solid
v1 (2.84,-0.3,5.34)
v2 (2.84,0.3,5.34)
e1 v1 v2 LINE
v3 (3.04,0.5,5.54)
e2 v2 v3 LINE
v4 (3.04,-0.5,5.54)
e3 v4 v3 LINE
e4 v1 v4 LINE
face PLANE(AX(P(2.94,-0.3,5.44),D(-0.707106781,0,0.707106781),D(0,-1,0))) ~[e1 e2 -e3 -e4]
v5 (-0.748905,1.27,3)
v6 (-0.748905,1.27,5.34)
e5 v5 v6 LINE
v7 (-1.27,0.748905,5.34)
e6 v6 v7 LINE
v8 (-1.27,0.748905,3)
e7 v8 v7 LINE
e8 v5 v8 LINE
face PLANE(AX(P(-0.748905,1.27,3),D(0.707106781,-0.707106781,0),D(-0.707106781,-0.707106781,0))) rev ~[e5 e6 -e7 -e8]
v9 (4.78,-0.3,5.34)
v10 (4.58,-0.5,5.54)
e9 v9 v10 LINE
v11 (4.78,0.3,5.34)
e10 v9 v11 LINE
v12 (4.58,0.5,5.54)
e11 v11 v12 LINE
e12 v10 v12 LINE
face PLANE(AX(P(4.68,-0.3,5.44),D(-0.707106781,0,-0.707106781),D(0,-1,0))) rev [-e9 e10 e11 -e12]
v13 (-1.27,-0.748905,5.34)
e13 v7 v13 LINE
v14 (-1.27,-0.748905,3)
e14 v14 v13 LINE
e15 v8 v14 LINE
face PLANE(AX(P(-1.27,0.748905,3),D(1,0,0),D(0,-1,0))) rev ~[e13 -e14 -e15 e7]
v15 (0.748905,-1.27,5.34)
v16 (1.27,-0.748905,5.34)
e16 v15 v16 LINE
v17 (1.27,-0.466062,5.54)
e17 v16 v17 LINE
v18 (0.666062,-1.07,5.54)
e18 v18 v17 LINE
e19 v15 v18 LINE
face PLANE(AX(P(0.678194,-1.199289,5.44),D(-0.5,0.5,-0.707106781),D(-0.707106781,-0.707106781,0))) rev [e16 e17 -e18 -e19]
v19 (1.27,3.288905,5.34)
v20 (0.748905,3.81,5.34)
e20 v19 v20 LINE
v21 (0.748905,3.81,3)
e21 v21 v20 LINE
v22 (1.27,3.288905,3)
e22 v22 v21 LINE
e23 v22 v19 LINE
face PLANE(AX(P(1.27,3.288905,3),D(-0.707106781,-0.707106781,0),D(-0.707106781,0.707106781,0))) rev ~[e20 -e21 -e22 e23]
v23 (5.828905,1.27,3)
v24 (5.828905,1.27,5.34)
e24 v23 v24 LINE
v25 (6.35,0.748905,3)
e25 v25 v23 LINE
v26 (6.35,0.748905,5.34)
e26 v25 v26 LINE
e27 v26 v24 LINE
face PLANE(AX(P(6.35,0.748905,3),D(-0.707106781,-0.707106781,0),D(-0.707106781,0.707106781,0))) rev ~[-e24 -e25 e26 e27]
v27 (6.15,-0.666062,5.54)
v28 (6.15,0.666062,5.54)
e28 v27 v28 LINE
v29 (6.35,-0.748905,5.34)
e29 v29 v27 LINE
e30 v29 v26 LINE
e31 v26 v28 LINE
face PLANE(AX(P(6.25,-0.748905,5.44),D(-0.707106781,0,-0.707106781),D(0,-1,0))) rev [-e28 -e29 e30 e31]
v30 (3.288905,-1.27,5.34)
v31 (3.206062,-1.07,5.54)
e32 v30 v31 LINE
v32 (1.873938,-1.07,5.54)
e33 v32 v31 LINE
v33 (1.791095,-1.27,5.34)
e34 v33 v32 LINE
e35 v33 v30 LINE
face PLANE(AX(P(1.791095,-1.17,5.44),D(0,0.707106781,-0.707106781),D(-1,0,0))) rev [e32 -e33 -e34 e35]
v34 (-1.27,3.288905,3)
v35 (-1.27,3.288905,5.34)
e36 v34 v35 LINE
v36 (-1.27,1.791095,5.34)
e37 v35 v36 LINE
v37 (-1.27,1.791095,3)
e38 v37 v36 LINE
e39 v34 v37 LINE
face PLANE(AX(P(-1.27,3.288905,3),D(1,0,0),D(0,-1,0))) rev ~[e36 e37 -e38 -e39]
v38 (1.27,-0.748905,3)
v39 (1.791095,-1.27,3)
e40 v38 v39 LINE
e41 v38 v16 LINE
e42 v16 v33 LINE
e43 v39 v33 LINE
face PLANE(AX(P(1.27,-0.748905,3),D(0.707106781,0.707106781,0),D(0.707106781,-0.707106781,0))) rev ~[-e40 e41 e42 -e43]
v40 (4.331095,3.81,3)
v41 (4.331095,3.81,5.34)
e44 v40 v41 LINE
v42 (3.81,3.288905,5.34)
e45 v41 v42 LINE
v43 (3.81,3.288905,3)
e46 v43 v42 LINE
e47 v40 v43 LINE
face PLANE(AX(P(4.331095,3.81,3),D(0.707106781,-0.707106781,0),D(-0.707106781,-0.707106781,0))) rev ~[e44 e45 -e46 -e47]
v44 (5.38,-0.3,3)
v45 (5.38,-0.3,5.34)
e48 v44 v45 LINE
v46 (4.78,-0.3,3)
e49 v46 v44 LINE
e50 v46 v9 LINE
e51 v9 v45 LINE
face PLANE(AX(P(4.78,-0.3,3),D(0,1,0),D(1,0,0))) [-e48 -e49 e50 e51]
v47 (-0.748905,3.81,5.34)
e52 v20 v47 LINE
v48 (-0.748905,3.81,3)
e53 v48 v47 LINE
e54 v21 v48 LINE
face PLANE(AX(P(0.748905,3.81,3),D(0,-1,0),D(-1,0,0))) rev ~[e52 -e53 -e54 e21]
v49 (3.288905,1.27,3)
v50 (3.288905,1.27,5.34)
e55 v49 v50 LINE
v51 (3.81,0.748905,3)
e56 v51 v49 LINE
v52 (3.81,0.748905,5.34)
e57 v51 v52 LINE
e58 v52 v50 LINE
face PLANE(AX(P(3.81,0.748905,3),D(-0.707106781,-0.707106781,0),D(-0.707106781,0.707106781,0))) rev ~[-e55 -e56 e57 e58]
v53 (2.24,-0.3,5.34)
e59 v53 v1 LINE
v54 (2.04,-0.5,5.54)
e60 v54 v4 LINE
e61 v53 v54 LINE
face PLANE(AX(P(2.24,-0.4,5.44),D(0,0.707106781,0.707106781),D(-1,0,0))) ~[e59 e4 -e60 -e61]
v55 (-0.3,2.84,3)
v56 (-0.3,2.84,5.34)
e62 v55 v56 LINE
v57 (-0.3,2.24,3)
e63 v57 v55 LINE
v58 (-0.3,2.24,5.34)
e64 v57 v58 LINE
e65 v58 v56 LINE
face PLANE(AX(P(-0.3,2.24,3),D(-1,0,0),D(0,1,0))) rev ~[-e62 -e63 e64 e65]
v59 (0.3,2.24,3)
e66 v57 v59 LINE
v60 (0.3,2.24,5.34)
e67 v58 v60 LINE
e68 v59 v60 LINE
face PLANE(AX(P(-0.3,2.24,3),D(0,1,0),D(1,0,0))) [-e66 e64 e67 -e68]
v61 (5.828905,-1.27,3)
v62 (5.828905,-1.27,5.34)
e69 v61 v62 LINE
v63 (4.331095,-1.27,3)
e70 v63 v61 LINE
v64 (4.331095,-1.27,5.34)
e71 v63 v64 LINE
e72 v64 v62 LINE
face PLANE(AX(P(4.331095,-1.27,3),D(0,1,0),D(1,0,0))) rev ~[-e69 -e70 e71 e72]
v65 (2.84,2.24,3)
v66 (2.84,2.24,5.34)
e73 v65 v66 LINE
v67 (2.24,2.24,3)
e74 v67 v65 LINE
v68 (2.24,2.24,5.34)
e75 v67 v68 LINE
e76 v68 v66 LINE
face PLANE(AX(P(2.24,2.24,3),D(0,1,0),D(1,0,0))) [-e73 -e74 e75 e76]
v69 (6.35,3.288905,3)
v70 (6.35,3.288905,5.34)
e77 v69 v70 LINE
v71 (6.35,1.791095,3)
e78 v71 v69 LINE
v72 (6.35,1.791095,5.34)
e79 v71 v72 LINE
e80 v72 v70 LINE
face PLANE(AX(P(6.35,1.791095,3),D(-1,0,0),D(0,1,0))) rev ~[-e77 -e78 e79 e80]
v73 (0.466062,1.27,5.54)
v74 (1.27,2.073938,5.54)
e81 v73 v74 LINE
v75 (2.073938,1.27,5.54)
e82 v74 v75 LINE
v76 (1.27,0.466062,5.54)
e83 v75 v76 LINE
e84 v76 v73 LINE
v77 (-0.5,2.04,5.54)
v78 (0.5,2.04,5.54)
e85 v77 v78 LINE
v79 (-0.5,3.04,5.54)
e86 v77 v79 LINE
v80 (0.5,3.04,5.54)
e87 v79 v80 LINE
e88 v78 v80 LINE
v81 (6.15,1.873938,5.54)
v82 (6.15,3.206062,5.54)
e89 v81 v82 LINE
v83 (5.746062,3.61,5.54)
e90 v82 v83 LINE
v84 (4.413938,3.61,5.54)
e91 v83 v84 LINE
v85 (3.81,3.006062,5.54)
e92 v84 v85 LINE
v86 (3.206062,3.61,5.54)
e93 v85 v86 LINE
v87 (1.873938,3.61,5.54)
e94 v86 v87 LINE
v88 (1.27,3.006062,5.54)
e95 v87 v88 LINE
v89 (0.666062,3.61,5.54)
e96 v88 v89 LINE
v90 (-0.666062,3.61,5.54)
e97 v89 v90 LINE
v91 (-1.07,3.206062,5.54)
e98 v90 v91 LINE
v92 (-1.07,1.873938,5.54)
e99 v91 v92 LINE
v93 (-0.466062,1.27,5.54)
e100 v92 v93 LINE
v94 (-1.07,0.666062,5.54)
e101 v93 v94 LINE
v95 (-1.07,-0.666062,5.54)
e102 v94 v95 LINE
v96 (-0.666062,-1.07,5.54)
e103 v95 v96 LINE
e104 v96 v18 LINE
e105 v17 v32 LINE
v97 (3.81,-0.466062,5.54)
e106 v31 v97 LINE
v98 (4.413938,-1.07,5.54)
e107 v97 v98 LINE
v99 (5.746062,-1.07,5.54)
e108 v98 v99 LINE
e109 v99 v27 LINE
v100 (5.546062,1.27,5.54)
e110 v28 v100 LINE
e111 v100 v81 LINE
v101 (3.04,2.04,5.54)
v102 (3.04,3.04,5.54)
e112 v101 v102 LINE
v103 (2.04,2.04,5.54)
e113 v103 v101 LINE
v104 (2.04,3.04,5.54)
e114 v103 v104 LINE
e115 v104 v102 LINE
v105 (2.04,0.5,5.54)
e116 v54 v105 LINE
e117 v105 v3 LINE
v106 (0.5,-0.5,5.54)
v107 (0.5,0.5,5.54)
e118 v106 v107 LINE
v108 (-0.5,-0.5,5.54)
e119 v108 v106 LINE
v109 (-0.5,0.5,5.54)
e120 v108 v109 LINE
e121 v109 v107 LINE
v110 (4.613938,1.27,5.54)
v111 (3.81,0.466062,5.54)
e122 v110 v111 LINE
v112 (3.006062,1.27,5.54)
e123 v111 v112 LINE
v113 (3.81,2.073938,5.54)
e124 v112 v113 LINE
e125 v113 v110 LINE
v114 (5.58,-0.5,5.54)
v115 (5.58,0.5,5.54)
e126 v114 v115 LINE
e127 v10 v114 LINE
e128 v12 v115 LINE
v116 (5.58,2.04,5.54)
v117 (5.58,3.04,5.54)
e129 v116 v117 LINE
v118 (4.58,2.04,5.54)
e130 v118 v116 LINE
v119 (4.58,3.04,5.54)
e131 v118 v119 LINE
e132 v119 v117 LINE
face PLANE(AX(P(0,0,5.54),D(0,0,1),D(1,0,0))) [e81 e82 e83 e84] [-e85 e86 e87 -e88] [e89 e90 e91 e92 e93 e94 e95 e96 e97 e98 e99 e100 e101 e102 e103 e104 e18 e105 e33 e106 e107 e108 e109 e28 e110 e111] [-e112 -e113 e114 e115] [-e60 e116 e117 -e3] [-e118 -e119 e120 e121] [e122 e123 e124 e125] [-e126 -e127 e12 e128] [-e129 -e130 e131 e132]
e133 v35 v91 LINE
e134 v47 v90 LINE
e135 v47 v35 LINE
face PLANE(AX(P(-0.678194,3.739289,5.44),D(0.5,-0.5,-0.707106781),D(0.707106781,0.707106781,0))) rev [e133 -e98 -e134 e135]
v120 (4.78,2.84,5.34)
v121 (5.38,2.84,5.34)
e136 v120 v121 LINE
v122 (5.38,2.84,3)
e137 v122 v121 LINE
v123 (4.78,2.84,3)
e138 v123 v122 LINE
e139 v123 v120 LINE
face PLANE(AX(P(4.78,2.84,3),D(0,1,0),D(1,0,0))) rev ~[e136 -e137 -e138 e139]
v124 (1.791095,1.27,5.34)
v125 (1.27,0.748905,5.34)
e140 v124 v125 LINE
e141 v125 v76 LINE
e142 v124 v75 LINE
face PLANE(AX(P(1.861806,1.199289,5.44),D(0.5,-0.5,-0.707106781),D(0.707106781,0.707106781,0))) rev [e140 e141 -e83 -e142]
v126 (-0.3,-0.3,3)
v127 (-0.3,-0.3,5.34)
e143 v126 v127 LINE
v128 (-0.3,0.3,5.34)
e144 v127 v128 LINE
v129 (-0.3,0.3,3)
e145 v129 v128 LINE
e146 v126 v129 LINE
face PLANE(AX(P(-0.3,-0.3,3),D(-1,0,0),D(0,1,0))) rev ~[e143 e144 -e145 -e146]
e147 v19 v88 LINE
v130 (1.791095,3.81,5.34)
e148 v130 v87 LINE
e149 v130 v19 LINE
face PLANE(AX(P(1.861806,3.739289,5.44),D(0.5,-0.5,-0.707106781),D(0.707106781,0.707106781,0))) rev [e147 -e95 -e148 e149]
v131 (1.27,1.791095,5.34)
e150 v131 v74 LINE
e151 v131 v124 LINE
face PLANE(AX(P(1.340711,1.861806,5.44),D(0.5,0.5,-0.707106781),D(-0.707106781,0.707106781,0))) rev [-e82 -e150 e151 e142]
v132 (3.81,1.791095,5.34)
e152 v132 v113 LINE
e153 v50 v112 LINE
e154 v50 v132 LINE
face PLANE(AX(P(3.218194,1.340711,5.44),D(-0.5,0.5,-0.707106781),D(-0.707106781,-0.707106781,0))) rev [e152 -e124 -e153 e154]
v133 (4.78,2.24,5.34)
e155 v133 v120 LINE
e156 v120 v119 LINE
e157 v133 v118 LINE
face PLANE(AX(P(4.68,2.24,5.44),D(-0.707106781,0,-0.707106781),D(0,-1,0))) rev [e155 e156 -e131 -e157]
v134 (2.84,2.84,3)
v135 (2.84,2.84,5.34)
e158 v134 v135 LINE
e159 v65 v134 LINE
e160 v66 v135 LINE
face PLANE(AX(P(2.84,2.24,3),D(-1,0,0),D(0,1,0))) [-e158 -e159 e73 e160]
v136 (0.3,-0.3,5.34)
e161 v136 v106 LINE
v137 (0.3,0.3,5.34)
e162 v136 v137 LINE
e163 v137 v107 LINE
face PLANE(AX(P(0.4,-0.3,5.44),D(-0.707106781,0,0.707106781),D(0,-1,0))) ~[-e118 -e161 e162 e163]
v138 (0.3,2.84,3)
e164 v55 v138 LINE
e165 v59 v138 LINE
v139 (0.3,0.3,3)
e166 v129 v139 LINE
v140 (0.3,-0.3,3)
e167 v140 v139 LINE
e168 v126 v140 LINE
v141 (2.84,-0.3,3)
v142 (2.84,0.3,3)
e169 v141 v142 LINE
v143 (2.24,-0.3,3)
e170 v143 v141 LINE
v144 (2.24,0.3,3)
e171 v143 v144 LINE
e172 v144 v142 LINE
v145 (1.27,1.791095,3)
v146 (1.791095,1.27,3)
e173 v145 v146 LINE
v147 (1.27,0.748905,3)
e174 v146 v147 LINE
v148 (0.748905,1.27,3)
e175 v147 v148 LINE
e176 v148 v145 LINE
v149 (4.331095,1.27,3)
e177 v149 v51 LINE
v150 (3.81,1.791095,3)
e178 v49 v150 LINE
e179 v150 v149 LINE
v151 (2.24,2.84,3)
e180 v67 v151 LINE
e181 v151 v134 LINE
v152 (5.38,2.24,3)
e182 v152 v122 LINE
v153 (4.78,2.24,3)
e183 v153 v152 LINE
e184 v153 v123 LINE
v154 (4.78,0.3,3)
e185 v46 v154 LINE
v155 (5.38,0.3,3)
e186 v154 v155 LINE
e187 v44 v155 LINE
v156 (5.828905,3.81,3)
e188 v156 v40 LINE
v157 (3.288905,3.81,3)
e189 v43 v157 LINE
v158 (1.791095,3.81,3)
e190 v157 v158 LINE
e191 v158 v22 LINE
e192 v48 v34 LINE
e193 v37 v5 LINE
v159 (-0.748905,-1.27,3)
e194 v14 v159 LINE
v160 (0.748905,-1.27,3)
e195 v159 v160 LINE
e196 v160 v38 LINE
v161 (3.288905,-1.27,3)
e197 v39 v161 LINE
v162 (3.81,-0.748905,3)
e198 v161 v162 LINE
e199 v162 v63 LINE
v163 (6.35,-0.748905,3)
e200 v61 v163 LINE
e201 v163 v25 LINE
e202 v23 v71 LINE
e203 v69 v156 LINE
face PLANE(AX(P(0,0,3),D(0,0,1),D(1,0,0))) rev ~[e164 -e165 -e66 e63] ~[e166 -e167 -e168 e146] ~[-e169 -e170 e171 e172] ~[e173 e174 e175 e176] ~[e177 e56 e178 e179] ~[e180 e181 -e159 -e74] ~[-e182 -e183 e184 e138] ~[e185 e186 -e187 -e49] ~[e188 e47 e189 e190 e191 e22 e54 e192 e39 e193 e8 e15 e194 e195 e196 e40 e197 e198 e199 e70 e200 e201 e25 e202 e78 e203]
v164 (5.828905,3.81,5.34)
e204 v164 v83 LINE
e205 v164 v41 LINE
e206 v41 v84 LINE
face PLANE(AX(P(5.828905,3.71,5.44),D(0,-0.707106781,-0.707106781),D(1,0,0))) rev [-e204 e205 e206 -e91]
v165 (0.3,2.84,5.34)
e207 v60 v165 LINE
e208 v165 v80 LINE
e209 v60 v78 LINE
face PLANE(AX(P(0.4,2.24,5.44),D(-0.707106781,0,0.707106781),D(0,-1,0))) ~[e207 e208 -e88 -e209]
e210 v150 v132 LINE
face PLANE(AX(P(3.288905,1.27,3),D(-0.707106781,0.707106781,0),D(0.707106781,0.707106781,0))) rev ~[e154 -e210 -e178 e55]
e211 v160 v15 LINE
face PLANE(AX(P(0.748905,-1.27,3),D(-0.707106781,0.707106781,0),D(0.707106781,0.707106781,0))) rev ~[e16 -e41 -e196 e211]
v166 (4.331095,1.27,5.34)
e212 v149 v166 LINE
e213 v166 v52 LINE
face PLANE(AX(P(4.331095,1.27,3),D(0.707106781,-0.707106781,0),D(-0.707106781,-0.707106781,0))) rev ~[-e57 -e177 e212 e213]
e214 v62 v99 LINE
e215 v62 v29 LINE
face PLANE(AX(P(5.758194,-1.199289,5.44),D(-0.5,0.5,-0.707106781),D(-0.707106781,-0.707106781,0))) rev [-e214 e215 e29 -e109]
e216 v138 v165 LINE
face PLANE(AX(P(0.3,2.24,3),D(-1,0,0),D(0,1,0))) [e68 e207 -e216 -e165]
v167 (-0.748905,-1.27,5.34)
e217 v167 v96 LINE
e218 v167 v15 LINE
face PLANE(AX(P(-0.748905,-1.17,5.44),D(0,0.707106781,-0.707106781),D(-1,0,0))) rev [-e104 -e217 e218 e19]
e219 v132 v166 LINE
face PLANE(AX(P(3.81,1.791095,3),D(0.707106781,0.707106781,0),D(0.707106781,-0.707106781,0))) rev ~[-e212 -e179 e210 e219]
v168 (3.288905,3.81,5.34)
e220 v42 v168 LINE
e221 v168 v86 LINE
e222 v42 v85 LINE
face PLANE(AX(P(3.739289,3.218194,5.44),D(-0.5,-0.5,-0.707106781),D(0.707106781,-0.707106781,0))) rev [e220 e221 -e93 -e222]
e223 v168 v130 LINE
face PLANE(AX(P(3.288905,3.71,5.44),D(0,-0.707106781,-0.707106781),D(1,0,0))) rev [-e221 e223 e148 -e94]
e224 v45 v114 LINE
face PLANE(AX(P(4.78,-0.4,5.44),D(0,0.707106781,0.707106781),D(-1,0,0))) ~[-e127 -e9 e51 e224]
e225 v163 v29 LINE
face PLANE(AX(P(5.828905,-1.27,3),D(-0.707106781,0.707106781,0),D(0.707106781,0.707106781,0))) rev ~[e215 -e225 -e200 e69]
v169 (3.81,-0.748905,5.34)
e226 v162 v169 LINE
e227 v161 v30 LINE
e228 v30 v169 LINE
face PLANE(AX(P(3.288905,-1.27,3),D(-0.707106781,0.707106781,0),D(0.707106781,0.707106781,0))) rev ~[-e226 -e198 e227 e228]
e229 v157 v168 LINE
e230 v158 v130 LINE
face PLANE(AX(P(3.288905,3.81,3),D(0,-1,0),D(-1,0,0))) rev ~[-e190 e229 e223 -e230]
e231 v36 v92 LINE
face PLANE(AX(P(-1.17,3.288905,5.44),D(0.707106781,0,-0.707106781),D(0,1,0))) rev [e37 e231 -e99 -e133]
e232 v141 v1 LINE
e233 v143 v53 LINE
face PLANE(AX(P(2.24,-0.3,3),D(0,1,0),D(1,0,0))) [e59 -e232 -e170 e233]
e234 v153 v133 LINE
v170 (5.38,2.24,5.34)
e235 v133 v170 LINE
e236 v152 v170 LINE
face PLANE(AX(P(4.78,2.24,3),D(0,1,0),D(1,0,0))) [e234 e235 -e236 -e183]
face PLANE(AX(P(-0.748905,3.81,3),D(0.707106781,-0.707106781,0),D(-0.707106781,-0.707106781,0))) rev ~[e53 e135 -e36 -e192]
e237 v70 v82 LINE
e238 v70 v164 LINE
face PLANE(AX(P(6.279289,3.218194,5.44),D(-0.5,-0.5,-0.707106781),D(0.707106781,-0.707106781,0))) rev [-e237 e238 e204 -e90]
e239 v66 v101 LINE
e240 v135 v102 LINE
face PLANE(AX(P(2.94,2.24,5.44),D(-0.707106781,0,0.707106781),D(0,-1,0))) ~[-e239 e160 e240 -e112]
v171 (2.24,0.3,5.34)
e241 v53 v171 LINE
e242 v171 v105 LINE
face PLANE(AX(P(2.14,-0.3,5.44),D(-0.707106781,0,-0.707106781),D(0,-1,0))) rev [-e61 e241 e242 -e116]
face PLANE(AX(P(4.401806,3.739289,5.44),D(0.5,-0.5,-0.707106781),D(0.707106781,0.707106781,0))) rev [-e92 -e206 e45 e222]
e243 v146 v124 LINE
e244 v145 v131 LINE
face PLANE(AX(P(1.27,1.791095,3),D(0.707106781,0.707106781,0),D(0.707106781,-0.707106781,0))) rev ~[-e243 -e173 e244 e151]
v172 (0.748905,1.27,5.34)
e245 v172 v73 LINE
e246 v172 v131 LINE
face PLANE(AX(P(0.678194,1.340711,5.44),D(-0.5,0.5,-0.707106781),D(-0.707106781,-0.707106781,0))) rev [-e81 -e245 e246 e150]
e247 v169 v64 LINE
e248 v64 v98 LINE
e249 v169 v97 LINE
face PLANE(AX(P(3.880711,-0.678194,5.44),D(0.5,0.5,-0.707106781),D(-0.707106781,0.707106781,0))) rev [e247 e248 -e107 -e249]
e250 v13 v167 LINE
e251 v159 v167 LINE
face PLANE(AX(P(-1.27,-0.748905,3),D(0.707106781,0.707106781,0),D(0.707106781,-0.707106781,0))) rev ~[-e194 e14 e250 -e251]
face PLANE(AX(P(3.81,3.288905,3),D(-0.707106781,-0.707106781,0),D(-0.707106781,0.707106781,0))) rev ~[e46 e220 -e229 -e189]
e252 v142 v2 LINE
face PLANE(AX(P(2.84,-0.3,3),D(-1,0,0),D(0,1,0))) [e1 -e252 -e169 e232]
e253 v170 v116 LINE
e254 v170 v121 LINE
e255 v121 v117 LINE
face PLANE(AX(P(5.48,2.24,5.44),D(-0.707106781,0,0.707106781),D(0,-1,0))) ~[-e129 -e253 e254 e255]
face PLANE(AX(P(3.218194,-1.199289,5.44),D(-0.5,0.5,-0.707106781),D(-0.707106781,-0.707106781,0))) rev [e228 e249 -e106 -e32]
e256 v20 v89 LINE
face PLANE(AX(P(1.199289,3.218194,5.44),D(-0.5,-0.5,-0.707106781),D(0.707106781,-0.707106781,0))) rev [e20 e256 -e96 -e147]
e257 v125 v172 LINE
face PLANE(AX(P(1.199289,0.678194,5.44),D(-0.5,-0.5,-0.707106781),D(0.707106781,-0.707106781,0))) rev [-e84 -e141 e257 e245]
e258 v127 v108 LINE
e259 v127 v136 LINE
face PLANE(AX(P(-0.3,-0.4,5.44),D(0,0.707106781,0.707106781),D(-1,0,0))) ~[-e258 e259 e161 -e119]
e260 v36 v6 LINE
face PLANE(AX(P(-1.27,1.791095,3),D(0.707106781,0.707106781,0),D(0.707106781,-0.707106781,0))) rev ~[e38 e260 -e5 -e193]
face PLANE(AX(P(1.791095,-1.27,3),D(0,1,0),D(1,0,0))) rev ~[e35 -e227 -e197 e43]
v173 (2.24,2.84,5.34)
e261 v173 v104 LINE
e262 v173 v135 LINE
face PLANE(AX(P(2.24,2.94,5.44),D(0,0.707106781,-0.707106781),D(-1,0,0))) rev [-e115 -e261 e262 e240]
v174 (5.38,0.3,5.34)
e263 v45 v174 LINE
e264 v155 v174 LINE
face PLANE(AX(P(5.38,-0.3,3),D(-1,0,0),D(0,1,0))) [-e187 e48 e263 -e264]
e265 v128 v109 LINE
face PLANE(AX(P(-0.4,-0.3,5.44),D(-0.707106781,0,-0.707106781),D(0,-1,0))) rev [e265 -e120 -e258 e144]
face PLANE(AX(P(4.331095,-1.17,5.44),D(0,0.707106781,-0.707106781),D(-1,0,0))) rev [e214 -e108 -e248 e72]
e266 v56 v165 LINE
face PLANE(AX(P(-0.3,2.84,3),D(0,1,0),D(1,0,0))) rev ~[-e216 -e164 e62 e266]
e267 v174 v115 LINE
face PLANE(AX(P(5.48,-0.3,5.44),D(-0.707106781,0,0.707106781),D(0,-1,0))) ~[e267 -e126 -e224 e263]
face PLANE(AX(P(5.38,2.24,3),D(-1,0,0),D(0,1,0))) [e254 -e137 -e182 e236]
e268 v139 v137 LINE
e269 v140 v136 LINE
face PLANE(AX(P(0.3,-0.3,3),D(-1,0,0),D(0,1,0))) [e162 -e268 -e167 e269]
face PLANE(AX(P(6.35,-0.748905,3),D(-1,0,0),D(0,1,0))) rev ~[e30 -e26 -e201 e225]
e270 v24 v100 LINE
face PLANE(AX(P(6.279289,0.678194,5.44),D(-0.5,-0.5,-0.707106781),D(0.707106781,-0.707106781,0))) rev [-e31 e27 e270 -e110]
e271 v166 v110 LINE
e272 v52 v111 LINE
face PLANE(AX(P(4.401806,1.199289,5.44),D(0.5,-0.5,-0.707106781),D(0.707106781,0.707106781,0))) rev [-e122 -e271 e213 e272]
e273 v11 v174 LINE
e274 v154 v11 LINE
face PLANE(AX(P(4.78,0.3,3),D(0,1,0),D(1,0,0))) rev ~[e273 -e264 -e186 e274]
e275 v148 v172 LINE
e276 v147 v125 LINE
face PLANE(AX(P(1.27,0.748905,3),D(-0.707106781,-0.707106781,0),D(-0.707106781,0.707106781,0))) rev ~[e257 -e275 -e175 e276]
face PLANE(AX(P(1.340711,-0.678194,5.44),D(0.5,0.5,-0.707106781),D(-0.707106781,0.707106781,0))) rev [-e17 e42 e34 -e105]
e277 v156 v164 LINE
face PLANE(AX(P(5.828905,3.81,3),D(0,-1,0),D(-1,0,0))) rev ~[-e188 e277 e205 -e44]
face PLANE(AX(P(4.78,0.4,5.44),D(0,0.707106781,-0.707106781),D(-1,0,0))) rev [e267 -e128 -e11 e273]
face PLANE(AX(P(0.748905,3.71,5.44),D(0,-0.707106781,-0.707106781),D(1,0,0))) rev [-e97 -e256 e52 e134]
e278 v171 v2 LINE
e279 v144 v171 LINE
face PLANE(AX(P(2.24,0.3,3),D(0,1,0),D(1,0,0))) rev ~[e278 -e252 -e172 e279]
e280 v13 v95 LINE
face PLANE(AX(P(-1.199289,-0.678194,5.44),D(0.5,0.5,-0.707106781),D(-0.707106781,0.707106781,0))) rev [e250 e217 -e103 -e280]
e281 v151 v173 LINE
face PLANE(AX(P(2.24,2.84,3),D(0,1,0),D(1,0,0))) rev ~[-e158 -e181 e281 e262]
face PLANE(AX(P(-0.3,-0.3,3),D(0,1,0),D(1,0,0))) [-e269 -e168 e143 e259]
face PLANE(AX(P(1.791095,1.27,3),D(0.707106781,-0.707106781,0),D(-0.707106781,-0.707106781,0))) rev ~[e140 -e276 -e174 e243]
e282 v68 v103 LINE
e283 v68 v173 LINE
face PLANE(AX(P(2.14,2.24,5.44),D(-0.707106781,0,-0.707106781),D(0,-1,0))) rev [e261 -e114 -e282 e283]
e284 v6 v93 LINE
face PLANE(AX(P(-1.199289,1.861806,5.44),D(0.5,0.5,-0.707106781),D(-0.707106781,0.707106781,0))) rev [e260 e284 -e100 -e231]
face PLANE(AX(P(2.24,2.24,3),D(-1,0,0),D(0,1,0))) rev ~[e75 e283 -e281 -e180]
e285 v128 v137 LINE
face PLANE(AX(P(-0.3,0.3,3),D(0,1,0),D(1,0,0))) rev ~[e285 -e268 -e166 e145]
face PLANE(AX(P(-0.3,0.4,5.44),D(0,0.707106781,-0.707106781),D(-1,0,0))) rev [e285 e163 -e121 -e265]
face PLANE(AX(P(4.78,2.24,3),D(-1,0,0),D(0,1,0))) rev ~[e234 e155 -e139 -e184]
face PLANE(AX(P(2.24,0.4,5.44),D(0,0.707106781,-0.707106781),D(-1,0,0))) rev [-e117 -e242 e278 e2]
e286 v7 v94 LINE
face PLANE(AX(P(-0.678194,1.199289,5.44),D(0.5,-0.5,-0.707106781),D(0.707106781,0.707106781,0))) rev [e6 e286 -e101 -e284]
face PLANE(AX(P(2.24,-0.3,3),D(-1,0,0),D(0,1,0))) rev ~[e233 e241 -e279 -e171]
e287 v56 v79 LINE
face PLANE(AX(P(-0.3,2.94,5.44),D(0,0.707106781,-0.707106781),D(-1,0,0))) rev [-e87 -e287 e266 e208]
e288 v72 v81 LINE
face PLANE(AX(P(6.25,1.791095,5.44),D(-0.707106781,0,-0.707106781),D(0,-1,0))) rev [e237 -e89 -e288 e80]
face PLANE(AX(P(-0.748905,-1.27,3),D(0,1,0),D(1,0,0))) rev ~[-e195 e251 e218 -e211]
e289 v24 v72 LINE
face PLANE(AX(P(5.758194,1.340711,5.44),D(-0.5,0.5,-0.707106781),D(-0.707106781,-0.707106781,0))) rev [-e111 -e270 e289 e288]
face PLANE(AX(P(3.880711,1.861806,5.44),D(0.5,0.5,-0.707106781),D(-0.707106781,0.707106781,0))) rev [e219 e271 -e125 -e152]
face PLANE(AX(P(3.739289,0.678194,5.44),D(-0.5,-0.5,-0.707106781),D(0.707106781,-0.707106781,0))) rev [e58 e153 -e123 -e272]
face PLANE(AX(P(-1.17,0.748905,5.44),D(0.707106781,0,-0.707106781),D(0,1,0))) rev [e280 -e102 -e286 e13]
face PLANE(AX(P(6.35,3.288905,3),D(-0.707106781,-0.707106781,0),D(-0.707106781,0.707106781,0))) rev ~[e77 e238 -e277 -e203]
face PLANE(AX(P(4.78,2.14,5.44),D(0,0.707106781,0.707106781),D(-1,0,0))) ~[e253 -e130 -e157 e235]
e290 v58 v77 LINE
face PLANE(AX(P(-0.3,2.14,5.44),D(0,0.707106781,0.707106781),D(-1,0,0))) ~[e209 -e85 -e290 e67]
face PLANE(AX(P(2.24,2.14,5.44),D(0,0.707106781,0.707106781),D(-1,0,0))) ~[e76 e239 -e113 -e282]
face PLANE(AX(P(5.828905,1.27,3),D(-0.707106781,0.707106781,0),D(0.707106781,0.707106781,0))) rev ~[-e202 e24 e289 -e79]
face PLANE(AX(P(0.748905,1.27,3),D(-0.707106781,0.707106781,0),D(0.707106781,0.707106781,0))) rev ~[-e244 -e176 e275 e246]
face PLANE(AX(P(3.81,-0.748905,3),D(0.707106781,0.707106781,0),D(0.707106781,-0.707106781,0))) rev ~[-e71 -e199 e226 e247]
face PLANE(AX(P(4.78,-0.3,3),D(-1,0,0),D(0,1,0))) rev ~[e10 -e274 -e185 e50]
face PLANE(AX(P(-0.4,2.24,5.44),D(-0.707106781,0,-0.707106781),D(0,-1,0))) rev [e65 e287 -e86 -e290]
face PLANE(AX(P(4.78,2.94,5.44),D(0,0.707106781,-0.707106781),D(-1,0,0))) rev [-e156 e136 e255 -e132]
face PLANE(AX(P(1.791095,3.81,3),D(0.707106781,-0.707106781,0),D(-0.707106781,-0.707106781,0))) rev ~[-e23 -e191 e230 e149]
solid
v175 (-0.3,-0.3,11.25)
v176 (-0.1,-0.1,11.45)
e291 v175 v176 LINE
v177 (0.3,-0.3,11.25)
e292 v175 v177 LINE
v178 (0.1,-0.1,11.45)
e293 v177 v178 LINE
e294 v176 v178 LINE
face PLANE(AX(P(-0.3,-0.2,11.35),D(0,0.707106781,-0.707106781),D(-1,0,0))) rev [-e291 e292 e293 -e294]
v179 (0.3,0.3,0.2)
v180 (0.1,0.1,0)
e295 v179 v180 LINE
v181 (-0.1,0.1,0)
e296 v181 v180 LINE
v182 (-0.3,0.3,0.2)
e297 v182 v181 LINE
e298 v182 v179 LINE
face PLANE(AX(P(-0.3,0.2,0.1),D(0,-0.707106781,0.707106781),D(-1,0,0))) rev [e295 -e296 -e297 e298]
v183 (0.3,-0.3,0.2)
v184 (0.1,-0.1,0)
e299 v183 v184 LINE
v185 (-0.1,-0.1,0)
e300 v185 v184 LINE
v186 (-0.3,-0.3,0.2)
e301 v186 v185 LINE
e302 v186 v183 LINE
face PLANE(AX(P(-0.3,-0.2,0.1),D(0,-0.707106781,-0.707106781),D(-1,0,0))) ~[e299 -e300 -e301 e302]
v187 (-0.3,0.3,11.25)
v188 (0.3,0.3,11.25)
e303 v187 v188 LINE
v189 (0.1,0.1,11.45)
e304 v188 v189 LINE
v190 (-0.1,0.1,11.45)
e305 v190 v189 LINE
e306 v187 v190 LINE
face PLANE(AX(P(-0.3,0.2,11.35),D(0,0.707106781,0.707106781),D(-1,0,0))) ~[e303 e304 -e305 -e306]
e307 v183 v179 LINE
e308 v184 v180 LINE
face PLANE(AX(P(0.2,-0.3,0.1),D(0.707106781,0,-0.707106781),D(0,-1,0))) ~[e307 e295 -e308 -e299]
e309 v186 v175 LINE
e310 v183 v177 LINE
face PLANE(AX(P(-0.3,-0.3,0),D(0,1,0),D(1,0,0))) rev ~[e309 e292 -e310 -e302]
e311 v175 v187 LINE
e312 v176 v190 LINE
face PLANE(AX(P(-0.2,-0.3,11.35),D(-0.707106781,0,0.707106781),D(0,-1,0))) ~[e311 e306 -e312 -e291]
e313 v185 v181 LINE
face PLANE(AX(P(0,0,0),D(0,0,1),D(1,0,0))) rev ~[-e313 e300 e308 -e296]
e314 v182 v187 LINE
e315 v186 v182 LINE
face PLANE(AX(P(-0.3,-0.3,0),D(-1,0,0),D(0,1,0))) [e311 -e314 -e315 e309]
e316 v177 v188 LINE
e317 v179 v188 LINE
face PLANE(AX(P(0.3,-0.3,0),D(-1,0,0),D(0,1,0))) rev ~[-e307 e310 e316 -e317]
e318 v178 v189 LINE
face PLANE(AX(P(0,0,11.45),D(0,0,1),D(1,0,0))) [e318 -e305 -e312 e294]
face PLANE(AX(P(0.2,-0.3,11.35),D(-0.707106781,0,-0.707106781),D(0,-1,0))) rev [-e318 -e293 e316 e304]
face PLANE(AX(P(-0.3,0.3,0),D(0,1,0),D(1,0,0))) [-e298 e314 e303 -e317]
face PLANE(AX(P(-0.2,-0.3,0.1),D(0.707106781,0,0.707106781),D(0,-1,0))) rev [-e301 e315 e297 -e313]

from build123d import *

# Parameters (mm, degrees)
F2_W      = 0.6
F2_H      = 0.6
F3_DEPTH  = 2.54
F0_W      = 0.6
F0_H      = 0.6
F4_DEPTH  = 11.45
F5_SIZE   = 0.2
F5_2_SIZE = 0.2
F5_3_SIZE = 0.2
F5_4_SIZE = 0.2
F5_5_SIZE = 0.2
F5_6_SIZE = 0.2
F6_SIZE   = 0.2


with BuildPart() as f3:
    # F2 (on offset) → F3 (new body)
    with BuildSketch(Plane.XY.offset(3)):
        Polygon((1.27, 0.7489051486), (0.7489051486, 1.27), (-0.7489051486, 1.27), (-1.27, 0.7489051486), (-1.27, -0.7489051486), (-0.7489051486, -1.27), (0.7489051486, -1.27), (1.27, -0.7489051486), align=None)
        Rectangle(F2_W, F2_H, mode=Mode.SUBTRACT)
        Polygon((-0.7489051486, 1.27), (0.7489051486, 1.27), (1.27, 1.7910948514), (1.27, 3.2889051486), (0.7489051486, 3.81), (-0.7489051486, 3.81), (-1.27, 3.2889051486), (-1.27, 1.7910948514), align=None)
        with Locations((0, 2.54)):
            Rectangle(F2_W, F2_H, mode=Mode.SUBTRACT)
        Polygon((1.7910948514, 1.27), (1.27, 0.7489051486), (1.27, -0.7489051486), (1.7910948514, -1.27), (3.2889051486, -1.27), (3.81, -0.7489051486), (3.81, 0.7489051486), (3.2889051486, 1.27), align=None)
        with Locations((2.54, 0)):
            Rectangle(F2_W, F2_H, mode=Mode.SUBTRACT)
        Polygon((1.27, 3.2889051486), (1.27, 1.7910948514), (1.7910948514, 1.27), (3.2889051486, 1.27), (3.81, 1.7910948514), (3.81, 3.2889051486), (3.2889051486, 3.81), (1.7910948514, 3.81), align=None)
        with Locations((2.54, 2.54)):
            Rectangle(F2_W, F2_H, mode=Mode.SUBTRACT)
        Polygon((4.3310948514, 1.27), (3.81, 0.7489051486), (3.81, -0.7489051486), (4.3310948514, -1.27), (5.8289051486, -1.27), (6.35, -0.7489051486), (6.35, 0.7489051486), (5.8289051486, 1.27), align=None)
        with Locations((5.08, 0)):
            Rectangle(F2_W, F2_H, mode=Mode.SUBTRACT)
        Polygon((3.81, 3.2889051486), (3.81, 1.7910948514), (4.3310948514, 1.27), (5.8289051486, 1.27), (6.35, 1.7910948514), (6.35, 3.2889051486), (5.8289051486, 3.81), (4.3310948514, 3.81), align=None)
        with Locations((5.08, 2.54)):
            Rectangle(F2_W, F2_H, mode=Mode.SUBTRACT)
    extrude(amount=F3_DEPTH)

    # F6
    f6_edges = [f3.edges().sort_by_distance(p)[0] for p in [
        (1.009453, 1.009453, 5.54),
        (1.009453, 1.530547, 5.54),
        (1.530547, 1.530547, 5.54),
        (1.530547, 1.009453, 5.54),
        (1.009453, 3.549453, 5.54),
        (0, 3.81, 5.54),
        (-1.009453, 3.549453, 5.54),
        (-1.27, 2.54, 5.54),
        (-1.009453, 1.530547, 5.54),
        (-1.009453, 1.009453, 5.54),
        (-1.27, 0, 5.54),
        (-1.009453, -1.009453, 5.54),
        (0, -1.27, 5.54),
        (1.009453, -1.009453, 5.54),
        (1.530547, -1.009453, 5.54),
        (2.54, -1.27, 5.54),
        (3.549453, -1.009453, 5.54),
        (4.070547, -1.009453, 5.54),
        (5.08, -1.27, 5.54),
        (6.089453, -1.009453, 5.54),
        (6.35, 0, 5.54),
        (6.089453, 1.009453, 5.54),
        (6.089453, 1.530547, 5.54),
        (6.35, 2.54, 5.54),
        (6.089453, 3.549453, 5.54),
        (5.08, 3.81, 5.54),
        (4.070547, 3.549453, 5.54),
        (3.549453, 3.549453, 5.54),
        (2.54, 3.81, 5.54),
        (1.530547, 3.549453, 5.54),
        (4.070547, 1.009453, 5.54),
        (3.549453, 1.009453, 5.54),
        (3.549453, 1.530547, 5.54),
        (4.070547, 1.530547, 5.54),
        (0.3, 0, 5.54),
        (0, -0.3, 5.54),
        (-0.3, 0, 5.54),
        (0, 0.3, 5.54),
        (-0.3, 2.54, 5.54),
        (0, 2.84, 5.54),
        (0.3, 2.54, 5.54),
        (0, 2.24, 5.54),
        (2.24, 0, 5.54),
        (2.54, 0.3, 5.54),
        (2.84, 0, 5.54),
        (2.54, -0.3, 5.54),
        (2.24, 2.54, 5.54),
        (2.54, 2.84, 5.54),
        (2.84, 2.54, 5.54),
        (2.54, 2.24, 5.54),
        (4.78, 0, 5.54),
        (5.08, 0.3, 5.54),
        (5.38, 0, 5.54),
        (5.08, -0.3, 5.54),
        (5.08, 2.24, 5.54),
        (4.78, 2.54, 5.54),
        (5.08, 2.84, 5.54),
        (5.38, 2.54, 5.54),
    ]]
    chamfer(f6_edges, length=F6_SIZE)


with BuildPart() as f4:
    # F0 (on Top) → F4 (new body)
    with BuildSketch(Plane.XY):
        Rectangle(F0_W, F0_H)
    extrude(amount=F4_DEPTH)

    # F5#2
    f5_2_edges = [f4.edges().sort_by_distance(p)[0] for p in [
        (0, -0.3, 11.45),
        (0.3, 0, 11.45),
        (0, 0.3, 11.45),
        (-0.3, 0, 11.45),
        (0, -0.3, 0),
        (0.3, 0, 0),
        (0, 0.3, 0),
        (-0.3, 0, 0),
    ]]
    chamfer(f5_2_edges, length=F5_2_SIZE)


with BuildPart() as f4b:
    # F0 (on Top) → F4, piece 2 (new body)
    with BuildSketch(Plane.XY):
        with Locations((0, 2.54)):
            Rectangle(F0_W, F0_H)
    extrude(amount=F4_DEPTH)

    # F5
    f5_edges = [f4b.edges().sort_by_distance(p)[0] for p in [
        (0.3, 2.54, 11.45),
        (0, 2.84, 11.45),
        (-0.3, 2.54, 11.45),
        (0, 2.24, 11.45),
        (0.3, 2.54, 0),
        (0, 2.84, 0),
        (-0.3, 2.54, 0),
        (0, 2.24, 0),
    ]]
    chamfer(f5_edges, length=F5_SIZE)


with BuildPart() as f4c:
    # F0 (on Top) → F4, piece 3 (new body)
    with BuildSketch(Plane.XY):
        with Locations((2.54, 0)):
            Rectangle(F0_W, F0_H)
    extrude(amount=F4_DEPTH)

    # F5#4
    f5_4_edges = [f4c.edges().sort_by_distance(p)[0] for p in [
        (2.84, 0, 11.45),
        (2.54, 0.3, 11.45),
        (2.24, 0, 11.45),
        (2.54, -0.3, 11.45),
        (2.84, 0, 0),
        (2.54, 0.3, 0),
        (2.24, 0, 0),
        (2.54, -0.3, 0),
    ]]
    chamfer(f5_4_edges, length=F5_4_SIZE)


with BuildPart() as f4d:
    # F0 (on Top) → F4, piece 4 (new body)
    with BuildSketch(Plane.XY):
        with Locations((2.54, 2.54)):
            Rectangle(F0_W, F0_H)
    extrude(amount=F4_DEPTH)

    # F5#3
    f5_3_edges = [f4d.edges().sort_by_distance(p)[0] for p in [
        (2.84, 2.54, 11.45),
        (2.54, 2.84, 11.45),
        (2.24, 2.54, 11.45),
        (2.54, 2.24, 11.45),
        (2.84, 2.54, 0),
        (2.54, 2.84, 0),
        (2.24, 2.54, 0),
        (2.54, 2.24, 0),
    ]]
    chamfer(f5_3_edges, length=F5_3_SIZE)


with BuildPart() as f4e:
    # F0 (on Top) → F4, piece 5 (new body)
    with BuildSketch(Plane.XY):
        with Locations((5.08, 0)):
            Rectangle(F0_W, F0_H)
    extrude(amount=F4_DEPTH)

    # F5#5
    f5_5_edges = [f4e.edges().sort_by_distance(p)[0] for p in [
        (5.38, 0, 11.45),
        (5.08, 0.3, 11.45),
        (4.78, 0, 11.45),
        (5.08, -0.3, 11.45),
        (5.38, 0, 0),
        (5.08, 0.3, 0),
        (4.78, 0, 0),
        (5.08, -0.3, 0),
    ]]
    chamfer(f5_5_edges, length=F5_5_SIZE)


with BuildPart() as f4f:
    # F0 (on Top) → F4, piece 6 (new body)
    with BuildSketch(Plane.XY):
        with Locations((5.08, 2.54)):
            Rectangle(F0_W, F0_H)
    extrude(amount=F4_DEPTH)

    # F5#6
    f5_6_edges = [f4f.edges().sort_by_distance(p)[0] for p in [
        (5.38, 2.54, 11.45),
        (5.08, 2.84, 11.45),
        (4.78, 2.54, 11.45),
        (5.08, 2.24, 11.45),
        (5.38, 2.54, 0),
        (5.08, 2.84, 0),
        (4.78, 2.54, 0),
        (5.08, 2.24, 0),
    ]]
    chamfer(f5_6_edges, length=F5_6_SIZE)


solid = Compound([f3.part, f4.part])
